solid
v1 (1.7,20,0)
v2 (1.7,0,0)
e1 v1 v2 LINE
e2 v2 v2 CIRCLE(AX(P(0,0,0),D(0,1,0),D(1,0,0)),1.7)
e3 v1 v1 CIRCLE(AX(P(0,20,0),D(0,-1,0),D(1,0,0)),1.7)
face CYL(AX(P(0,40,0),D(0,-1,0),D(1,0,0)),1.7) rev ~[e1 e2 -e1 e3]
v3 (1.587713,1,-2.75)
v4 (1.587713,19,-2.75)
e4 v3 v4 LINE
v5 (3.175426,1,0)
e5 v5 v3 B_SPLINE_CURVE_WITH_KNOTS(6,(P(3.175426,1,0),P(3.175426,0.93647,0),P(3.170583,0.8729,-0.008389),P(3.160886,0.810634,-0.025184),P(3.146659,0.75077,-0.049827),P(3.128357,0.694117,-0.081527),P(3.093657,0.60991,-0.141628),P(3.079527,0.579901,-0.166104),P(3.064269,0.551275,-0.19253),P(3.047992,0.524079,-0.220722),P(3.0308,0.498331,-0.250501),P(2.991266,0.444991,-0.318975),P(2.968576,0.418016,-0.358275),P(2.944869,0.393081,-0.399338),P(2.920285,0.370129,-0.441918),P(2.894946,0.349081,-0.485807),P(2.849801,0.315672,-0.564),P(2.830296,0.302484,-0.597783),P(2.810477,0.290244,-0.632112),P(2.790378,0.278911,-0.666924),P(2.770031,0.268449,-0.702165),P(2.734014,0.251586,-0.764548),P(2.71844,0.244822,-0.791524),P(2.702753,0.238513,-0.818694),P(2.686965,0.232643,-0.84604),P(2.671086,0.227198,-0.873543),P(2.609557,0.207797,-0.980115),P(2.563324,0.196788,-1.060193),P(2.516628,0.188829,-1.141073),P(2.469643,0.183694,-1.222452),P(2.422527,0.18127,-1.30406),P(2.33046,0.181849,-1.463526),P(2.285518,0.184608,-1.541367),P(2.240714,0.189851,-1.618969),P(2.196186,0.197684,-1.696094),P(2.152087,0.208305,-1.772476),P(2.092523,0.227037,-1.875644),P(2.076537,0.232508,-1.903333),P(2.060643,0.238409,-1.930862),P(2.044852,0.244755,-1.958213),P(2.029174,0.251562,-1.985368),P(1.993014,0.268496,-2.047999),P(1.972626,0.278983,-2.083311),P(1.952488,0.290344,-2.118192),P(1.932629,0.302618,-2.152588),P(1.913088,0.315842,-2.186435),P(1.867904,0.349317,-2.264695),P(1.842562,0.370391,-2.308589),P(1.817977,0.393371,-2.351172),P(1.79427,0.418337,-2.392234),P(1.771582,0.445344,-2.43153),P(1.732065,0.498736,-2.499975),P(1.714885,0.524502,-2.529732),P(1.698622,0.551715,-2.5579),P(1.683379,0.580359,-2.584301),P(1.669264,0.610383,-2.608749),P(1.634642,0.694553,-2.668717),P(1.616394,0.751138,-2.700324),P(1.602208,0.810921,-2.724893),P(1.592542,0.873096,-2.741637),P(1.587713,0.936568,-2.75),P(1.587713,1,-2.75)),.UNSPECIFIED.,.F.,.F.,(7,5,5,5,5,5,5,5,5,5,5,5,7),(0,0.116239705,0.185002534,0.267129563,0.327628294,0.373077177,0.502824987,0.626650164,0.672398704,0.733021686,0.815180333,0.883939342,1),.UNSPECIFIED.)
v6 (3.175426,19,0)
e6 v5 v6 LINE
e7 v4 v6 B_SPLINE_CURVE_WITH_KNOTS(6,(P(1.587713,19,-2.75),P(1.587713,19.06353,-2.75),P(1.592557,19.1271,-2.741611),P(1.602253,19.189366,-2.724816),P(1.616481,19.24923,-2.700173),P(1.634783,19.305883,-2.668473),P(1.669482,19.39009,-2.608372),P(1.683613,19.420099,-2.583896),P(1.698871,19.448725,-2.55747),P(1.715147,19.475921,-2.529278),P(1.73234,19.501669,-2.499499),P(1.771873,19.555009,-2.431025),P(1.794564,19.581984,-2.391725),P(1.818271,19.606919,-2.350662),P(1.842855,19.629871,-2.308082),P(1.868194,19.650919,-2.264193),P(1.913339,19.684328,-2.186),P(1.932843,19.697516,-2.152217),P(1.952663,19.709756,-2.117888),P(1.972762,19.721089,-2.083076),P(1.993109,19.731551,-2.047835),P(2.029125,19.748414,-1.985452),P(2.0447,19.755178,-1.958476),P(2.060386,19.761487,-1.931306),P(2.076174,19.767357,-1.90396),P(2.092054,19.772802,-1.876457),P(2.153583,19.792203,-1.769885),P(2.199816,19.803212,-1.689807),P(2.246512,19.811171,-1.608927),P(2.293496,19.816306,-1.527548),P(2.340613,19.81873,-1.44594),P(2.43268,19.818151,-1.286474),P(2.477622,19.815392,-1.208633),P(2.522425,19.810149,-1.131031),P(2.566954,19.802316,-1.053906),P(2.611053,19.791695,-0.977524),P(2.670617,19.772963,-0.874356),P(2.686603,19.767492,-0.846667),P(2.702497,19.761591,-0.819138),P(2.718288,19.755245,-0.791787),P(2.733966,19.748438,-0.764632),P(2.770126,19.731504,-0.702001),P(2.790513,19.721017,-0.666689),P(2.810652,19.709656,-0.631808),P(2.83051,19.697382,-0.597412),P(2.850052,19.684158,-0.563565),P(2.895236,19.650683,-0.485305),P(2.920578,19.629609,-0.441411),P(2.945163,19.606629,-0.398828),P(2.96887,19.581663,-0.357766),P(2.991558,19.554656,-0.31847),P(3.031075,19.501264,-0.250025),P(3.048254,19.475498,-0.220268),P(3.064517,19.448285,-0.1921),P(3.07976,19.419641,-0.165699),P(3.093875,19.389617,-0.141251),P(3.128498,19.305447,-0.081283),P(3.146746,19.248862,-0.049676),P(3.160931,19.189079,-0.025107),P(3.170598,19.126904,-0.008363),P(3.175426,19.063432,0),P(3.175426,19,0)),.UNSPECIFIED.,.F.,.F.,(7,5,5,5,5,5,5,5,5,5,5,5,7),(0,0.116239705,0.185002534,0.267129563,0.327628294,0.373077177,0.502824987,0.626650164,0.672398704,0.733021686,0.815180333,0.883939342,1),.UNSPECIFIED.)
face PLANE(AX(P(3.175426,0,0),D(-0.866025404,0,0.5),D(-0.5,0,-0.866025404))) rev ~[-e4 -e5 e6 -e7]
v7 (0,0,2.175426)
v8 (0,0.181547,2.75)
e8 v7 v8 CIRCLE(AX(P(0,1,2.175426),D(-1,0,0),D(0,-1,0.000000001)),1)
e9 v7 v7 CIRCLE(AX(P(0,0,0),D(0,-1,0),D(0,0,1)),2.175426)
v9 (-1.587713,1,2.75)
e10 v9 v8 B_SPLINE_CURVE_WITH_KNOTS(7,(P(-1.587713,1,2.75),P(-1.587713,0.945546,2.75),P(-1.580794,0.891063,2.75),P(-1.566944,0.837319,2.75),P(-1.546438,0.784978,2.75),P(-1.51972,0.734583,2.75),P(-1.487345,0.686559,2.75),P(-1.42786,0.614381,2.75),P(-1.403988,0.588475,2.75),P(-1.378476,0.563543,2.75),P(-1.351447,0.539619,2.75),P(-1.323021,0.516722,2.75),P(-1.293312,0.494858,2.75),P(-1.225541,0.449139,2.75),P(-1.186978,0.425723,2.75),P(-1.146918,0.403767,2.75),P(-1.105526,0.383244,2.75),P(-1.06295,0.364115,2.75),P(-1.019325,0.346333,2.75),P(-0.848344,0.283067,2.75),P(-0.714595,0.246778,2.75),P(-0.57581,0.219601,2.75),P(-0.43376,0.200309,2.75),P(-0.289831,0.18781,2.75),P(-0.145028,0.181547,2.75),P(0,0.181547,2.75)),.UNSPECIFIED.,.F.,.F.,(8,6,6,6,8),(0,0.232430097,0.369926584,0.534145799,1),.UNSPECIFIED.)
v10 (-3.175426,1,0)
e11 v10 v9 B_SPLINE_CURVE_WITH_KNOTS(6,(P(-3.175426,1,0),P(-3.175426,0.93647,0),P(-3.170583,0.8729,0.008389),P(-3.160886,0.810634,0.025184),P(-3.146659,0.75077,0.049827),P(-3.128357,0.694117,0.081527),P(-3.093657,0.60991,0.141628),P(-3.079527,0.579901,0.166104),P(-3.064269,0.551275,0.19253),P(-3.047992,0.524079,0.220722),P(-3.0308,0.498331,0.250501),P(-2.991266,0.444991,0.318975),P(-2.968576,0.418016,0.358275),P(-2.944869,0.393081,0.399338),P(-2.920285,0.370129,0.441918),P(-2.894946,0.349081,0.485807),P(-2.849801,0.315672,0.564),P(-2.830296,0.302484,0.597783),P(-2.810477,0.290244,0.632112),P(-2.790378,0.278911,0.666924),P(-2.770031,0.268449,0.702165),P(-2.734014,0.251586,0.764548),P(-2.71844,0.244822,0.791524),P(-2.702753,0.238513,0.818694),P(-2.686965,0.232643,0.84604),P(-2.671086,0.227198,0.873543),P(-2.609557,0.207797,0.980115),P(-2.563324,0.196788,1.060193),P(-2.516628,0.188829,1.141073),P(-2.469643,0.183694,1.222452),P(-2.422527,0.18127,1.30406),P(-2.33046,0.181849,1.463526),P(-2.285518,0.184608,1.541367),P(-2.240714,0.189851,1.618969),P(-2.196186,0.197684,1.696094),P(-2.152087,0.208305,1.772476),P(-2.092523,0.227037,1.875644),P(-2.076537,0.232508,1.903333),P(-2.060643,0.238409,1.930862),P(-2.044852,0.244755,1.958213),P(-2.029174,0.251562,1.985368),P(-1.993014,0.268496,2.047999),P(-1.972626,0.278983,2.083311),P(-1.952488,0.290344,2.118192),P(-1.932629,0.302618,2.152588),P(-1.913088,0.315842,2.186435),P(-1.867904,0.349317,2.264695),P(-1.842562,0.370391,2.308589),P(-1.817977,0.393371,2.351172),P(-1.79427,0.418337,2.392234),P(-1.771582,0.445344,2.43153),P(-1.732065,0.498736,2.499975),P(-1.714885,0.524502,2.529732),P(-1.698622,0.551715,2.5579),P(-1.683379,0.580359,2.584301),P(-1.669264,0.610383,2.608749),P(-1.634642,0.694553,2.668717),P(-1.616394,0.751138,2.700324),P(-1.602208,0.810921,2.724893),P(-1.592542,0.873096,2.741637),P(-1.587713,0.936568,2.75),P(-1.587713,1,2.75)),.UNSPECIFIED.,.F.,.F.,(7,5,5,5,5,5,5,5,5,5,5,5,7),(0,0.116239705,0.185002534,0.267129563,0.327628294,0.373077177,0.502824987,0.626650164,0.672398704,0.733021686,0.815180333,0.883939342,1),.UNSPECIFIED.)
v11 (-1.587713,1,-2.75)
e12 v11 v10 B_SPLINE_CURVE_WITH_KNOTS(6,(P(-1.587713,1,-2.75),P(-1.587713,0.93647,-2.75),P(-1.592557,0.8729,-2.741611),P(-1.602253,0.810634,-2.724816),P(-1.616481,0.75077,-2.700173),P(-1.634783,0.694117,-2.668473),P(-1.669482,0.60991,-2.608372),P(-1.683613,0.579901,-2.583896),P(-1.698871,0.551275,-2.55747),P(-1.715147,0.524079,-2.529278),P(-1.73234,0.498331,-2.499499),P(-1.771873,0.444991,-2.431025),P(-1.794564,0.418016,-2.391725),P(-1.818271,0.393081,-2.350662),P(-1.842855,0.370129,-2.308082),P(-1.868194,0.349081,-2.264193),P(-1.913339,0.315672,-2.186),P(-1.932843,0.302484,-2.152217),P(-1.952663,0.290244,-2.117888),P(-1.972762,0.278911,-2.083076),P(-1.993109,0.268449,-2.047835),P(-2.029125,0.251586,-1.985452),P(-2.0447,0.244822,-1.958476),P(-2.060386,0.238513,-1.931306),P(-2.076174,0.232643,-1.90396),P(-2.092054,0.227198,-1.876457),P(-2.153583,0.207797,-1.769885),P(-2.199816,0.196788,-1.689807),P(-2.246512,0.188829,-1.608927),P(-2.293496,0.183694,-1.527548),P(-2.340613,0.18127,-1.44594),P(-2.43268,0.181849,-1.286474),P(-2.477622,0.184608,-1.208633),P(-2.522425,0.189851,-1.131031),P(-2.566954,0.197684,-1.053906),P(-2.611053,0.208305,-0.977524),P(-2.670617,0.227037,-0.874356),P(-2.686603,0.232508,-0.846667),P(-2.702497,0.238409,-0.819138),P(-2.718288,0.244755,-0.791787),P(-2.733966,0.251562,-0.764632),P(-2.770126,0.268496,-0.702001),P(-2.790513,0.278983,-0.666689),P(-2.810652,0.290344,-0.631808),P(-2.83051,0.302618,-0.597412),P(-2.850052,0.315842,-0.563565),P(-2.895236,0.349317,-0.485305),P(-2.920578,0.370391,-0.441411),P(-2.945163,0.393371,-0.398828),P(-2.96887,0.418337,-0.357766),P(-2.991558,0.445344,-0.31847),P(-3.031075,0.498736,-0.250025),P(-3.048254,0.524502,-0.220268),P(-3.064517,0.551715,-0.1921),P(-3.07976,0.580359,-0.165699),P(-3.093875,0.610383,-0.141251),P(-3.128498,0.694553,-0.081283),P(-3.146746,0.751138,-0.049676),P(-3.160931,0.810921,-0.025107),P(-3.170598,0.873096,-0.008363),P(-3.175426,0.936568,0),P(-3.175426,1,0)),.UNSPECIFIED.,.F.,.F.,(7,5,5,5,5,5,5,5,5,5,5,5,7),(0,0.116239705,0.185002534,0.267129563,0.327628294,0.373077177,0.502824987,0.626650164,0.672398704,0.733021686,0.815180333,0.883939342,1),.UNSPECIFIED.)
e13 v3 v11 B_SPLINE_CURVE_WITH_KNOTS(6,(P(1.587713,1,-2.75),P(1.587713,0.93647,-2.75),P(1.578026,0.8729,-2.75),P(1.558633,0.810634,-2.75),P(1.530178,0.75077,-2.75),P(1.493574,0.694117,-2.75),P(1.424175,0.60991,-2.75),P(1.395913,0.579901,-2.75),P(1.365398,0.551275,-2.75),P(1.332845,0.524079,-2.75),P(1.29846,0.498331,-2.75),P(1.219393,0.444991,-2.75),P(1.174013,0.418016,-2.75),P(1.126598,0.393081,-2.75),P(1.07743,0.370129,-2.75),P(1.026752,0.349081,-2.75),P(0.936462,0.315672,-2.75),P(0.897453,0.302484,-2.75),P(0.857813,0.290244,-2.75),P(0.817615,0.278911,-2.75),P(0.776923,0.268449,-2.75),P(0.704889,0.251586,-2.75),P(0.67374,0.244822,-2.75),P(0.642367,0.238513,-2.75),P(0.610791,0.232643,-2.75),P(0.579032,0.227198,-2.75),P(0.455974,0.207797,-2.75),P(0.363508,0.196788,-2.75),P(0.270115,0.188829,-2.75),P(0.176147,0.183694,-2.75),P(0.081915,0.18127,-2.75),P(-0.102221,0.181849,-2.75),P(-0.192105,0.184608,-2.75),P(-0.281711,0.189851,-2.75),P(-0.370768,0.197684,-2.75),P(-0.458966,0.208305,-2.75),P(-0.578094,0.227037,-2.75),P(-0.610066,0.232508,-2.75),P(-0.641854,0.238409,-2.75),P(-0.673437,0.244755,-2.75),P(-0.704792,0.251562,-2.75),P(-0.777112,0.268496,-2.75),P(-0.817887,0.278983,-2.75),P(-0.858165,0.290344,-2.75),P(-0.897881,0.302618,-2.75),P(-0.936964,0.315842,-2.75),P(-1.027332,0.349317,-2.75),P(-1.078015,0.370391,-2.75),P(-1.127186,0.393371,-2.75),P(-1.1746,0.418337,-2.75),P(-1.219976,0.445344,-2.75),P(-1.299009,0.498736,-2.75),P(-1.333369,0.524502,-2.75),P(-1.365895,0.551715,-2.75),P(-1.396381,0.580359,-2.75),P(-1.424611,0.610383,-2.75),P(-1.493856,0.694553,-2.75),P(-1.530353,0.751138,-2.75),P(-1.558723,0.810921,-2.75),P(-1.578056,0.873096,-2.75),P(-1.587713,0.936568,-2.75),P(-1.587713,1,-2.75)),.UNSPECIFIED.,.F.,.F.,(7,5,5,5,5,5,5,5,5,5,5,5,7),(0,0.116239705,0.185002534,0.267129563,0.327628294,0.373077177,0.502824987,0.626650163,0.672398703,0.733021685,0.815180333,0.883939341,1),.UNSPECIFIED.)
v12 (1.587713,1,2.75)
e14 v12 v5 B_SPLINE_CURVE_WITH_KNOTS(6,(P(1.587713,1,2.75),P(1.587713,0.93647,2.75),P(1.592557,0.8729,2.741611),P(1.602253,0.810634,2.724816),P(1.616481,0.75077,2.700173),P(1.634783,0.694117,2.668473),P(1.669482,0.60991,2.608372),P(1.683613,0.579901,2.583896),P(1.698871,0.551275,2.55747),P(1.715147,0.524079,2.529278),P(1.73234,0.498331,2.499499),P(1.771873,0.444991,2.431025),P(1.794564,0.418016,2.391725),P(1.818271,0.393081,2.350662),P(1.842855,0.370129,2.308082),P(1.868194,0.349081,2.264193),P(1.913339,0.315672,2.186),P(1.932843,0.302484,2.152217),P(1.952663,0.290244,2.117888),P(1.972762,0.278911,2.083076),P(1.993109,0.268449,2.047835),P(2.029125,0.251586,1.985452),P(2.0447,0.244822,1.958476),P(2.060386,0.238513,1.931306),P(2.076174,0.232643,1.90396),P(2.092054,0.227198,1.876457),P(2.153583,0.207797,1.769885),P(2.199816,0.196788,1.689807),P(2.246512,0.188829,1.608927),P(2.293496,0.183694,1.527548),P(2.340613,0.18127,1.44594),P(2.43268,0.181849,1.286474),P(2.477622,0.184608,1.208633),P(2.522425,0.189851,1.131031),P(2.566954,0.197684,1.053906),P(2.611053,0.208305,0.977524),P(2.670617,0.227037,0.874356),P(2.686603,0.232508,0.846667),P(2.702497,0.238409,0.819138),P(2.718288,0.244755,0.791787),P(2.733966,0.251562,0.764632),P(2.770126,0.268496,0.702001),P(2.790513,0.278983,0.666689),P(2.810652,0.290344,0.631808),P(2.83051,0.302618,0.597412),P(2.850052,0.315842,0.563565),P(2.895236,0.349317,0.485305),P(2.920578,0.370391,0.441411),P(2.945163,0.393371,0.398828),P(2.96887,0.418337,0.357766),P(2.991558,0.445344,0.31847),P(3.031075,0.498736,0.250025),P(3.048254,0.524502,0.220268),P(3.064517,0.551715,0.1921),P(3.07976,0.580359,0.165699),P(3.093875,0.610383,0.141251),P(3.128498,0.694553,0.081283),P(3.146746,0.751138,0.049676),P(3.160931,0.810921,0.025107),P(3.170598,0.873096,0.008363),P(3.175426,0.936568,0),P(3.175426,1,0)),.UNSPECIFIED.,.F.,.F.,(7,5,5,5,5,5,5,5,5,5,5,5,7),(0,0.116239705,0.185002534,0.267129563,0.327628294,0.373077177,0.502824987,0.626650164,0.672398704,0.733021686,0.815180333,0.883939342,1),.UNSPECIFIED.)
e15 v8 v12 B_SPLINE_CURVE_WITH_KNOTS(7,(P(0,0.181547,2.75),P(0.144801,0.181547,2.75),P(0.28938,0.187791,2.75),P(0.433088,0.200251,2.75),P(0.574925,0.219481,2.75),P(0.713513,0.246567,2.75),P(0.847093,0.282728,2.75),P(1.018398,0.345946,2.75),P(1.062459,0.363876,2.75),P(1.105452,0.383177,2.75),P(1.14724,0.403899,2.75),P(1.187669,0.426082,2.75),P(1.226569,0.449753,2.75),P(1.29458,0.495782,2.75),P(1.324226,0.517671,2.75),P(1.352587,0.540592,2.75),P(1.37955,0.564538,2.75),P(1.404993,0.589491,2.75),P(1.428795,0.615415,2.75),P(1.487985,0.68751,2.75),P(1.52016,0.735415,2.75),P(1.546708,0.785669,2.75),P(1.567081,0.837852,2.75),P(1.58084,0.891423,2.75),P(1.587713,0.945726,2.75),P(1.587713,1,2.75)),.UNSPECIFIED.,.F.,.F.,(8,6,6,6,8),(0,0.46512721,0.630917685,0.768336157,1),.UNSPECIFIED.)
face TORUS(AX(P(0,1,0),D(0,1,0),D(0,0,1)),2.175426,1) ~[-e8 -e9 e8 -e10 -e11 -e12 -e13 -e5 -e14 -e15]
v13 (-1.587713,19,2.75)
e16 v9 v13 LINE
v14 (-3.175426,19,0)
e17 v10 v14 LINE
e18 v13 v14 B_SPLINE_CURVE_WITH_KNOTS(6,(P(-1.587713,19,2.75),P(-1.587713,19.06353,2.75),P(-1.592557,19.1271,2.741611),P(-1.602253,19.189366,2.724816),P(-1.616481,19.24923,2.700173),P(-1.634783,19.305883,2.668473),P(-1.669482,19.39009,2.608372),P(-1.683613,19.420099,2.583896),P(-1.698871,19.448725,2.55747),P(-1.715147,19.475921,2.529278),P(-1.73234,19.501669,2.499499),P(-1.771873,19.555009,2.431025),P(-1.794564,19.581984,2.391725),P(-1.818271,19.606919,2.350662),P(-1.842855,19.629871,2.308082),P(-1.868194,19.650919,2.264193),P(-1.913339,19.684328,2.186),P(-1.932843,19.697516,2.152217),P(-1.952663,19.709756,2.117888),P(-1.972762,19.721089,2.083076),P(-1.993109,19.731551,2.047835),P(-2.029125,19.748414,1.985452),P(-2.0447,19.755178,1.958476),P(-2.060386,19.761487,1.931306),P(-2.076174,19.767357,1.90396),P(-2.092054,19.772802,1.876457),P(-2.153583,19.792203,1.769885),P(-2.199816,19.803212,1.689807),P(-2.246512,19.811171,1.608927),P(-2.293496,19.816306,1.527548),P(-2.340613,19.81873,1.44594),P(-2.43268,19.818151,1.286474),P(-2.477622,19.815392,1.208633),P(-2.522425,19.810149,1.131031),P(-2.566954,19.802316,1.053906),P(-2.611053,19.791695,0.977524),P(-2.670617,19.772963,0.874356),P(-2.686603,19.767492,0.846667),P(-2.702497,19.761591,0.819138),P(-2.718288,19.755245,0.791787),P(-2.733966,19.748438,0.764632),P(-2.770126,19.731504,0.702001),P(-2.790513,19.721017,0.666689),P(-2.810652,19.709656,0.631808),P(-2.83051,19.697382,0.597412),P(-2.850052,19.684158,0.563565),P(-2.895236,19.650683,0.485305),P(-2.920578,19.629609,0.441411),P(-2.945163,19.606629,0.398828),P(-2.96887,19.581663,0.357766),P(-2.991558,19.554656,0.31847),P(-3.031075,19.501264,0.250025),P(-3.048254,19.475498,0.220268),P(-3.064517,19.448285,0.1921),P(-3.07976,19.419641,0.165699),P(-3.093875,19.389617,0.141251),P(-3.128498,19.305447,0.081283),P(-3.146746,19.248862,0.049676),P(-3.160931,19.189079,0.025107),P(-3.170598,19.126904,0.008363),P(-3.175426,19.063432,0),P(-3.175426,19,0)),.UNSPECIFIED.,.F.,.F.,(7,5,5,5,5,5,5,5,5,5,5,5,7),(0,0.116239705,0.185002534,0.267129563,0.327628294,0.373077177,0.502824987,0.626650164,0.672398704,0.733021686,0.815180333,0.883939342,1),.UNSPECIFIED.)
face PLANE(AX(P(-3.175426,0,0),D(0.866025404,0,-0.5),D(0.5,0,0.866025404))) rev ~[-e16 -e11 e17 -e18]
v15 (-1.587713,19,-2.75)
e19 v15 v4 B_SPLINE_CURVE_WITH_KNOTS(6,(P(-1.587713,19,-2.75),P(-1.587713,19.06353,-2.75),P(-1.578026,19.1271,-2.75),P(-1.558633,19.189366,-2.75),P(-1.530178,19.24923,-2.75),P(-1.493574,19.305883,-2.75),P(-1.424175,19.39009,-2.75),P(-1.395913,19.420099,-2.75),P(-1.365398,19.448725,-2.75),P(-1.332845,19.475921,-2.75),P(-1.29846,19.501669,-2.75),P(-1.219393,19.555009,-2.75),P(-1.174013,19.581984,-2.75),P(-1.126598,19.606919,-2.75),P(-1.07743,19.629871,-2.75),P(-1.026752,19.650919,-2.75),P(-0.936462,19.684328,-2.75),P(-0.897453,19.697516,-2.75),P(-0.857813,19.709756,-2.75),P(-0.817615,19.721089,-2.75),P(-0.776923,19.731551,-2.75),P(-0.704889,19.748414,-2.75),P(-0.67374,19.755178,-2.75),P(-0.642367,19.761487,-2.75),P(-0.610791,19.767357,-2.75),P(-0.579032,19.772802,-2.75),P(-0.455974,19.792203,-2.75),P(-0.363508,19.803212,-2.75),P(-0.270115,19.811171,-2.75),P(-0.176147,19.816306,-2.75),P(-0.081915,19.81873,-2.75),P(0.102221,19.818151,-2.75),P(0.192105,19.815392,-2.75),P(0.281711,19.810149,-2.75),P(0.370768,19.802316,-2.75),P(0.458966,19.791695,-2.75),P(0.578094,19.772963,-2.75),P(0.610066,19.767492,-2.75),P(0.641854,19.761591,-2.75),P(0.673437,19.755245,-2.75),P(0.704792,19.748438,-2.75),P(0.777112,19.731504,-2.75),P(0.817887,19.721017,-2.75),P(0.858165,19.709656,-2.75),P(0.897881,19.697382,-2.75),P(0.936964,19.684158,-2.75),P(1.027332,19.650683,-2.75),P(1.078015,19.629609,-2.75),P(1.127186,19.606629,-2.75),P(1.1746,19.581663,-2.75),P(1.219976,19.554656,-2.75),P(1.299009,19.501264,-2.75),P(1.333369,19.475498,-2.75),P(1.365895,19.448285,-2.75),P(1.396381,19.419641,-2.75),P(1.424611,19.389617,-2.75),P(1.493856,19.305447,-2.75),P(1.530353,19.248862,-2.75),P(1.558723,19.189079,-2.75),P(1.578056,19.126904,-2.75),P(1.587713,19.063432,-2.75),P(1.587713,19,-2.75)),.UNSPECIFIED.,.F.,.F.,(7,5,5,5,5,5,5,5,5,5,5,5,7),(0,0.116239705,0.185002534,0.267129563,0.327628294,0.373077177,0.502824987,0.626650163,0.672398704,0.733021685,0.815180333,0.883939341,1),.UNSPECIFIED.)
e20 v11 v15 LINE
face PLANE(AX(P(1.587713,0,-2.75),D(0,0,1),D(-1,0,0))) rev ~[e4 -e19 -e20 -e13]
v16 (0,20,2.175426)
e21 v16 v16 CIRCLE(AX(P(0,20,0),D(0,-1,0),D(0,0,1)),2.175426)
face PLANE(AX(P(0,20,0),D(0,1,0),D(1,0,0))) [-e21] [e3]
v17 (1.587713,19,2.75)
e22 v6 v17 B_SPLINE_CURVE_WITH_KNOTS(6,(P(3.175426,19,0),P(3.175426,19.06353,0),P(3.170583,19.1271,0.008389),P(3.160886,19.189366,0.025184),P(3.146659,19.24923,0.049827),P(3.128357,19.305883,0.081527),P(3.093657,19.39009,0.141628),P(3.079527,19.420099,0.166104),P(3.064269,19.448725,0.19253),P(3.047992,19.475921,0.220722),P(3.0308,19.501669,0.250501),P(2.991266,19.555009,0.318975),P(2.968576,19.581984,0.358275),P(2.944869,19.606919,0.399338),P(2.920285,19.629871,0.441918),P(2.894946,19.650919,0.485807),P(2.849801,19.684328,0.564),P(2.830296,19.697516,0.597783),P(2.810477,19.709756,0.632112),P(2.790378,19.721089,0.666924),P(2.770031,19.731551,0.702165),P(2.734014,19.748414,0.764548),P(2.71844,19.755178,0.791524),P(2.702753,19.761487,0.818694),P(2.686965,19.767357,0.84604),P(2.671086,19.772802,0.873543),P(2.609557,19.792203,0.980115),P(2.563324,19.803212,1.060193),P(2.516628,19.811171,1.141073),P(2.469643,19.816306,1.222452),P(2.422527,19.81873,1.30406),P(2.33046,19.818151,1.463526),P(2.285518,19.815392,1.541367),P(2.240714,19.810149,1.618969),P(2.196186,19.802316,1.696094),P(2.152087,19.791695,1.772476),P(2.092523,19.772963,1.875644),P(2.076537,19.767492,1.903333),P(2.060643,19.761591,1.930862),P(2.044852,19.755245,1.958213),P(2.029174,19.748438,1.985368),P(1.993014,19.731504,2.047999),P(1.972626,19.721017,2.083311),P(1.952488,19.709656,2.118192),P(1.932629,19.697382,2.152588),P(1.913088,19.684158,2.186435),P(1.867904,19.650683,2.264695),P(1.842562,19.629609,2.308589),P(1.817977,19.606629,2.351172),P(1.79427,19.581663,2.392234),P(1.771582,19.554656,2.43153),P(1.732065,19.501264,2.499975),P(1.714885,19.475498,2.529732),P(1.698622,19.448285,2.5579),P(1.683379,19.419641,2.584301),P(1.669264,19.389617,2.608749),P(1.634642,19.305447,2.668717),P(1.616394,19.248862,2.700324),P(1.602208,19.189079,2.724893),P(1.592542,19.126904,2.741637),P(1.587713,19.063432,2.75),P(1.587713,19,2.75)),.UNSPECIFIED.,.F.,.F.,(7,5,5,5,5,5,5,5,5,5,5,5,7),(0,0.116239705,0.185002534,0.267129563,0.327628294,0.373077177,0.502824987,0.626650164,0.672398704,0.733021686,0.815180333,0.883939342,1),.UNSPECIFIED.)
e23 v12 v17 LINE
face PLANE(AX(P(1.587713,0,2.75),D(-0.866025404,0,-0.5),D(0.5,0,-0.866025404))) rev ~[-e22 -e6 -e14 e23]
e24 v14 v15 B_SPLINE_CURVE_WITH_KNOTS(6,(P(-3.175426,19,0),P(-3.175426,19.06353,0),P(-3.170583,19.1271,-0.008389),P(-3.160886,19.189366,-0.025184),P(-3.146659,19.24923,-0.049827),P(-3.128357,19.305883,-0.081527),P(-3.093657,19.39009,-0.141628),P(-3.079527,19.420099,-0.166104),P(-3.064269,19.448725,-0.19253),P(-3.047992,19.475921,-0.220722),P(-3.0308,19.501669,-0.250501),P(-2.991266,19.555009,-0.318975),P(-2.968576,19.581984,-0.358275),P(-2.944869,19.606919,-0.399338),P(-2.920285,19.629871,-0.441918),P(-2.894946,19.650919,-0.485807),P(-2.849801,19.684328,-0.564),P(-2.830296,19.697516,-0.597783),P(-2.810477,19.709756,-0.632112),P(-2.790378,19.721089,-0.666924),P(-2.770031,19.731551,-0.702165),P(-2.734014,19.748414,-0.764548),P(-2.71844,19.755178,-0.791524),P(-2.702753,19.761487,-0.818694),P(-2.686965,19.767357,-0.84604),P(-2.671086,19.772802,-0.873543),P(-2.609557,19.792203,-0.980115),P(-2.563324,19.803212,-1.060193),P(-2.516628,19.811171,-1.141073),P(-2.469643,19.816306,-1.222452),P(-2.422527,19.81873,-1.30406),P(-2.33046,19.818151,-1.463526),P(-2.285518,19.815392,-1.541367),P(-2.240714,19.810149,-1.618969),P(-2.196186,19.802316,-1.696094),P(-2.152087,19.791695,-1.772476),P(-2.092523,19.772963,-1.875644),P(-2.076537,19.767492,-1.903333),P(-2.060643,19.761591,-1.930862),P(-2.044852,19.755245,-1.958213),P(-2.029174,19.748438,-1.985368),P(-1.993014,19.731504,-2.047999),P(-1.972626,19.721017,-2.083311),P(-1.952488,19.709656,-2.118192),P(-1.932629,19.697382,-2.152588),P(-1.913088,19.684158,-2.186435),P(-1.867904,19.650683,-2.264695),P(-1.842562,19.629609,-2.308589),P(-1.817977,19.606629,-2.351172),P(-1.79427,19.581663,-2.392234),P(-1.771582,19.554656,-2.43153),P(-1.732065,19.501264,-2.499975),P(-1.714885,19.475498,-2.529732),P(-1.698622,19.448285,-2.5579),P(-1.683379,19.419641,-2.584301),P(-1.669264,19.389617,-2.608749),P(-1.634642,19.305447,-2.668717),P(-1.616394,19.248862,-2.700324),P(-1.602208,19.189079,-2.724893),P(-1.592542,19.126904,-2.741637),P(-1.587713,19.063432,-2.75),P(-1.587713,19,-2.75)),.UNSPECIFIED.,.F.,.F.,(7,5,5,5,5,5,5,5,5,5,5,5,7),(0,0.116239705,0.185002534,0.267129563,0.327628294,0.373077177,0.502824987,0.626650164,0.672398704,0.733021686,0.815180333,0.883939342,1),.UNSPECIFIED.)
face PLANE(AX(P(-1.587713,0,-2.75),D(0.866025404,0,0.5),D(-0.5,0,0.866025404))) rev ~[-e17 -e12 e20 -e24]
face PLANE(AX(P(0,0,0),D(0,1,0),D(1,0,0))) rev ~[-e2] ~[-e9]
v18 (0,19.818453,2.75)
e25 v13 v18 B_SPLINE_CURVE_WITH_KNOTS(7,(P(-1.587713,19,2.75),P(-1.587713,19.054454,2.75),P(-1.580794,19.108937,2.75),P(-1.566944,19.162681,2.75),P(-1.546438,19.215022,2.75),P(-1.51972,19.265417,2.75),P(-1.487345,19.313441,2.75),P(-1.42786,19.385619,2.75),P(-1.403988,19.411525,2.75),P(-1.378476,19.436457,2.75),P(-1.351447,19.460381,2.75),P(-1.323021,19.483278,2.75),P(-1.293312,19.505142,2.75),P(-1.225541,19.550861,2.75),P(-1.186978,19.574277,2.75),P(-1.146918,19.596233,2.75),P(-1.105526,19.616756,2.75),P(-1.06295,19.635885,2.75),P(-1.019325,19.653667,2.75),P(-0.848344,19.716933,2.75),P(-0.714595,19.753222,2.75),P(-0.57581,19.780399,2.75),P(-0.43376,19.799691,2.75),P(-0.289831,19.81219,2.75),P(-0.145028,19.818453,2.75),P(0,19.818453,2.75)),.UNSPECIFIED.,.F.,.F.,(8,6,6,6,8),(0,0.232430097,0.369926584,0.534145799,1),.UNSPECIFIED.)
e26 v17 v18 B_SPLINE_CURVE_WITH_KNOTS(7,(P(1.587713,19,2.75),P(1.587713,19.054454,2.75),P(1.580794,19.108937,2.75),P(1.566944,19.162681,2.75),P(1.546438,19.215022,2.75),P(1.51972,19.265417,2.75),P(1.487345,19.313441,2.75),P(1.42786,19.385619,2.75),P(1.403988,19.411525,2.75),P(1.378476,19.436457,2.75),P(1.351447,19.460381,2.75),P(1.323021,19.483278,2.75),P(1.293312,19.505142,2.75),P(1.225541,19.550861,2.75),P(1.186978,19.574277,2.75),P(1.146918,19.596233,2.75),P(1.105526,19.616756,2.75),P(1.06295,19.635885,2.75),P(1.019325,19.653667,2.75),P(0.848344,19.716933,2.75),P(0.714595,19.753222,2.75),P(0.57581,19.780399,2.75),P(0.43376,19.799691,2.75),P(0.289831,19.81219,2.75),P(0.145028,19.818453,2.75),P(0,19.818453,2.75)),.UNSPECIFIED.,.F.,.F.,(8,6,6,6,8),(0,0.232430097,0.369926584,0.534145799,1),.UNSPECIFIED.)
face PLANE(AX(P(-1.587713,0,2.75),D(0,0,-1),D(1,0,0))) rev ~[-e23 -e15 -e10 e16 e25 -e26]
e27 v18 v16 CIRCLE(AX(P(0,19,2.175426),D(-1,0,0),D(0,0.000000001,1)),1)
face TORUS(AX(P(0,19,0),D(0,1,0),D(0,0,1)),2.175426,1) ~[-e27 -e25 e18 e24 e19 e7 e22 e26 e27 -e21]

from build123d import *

# Parameters (mm, degrees)
BOSS_EXTRUDE1_DEPTH      = 20
M3_CLEARANCE_HOLE1_D     = 3.4
M3_CLEARANCE_HOLE1_DEPTH = 20
M3_CLEARANCE_HOLE1_TIP   = 1.021463052


with BuildPart() as part:
    # Sketch1 → Boss-Extrude1 (new body)
    with BuildSketch(Plane(origin=(0, 0, 0), x_dir=(1, 0, 0), z_dir=(0, 1, 0))):
        Polygon((3.175426481, 0), (1.58771324, 2.75), (-1.58771324, 2.75), (-3.175426481, 0), (-1.58771324, -2.75), (1.58771324, -2.75), align=None)
    extrude(amount=BOSS_EXTRUDE1_DEPTH)

    # M3 Clearance Hole1
    with Locations(Plane(origin=(0, 20, 0), x_dir=(-1, 0, 0), z_dir=(0, 1, 0))):
        with Locations((0, 0)):
            Hole(M3_CLEARANCE_HOLE1_D / 2, depth=M3_CLEARANCE_HOLE1_DEPTH)
            with Locations((0, 0, -(M3_CLEARANCE_HOLE1_DEPTH + M3_CLEARANCE_HOLE1_TIP / 2))):  # 118° drill point
                Cone(0, M3_CLEARANCE_HOLE1_D / 2, M3_CLEARANCE_HOLE1_TIP, mode=Mode.SUBTRACT)

    # Sketch4 → Cut-Revolve1 (revolve, cut)
    with BuildSketch(Plane.XY, mode=Mode.PRIVATE) as cut_revolve1_sk:
        with BuildLine():
            Line((-2.175426481, 20), (-3.175426481, 20))
            Line((-3.175426481, 20), (-3.175426481, 19))
            ThreePointArc((-3.175426481, 19), (-2.882533262, 19.707106781), (-2.175426481, 20))
        make_face()
        with BuildLine():
            Line((-3.175426481, 1), (-3.175426481, 0))
            Line((-3.175426481, 0), (-2.175426481, 0))
            ThreePointArc((-2.175426481, 0), (-2.882533262, 0.292893219), (-3.175426481, 1))
        make_face()
    revolve(cut_revolve1_sk.sketch.rotate(Axis((0, 20, 0), (0, -1, 0)), 270), axis=Axis((0, 20, 0), (0, -1, 0)), mode=Mode.SUBTRACT)


solid = part.part
